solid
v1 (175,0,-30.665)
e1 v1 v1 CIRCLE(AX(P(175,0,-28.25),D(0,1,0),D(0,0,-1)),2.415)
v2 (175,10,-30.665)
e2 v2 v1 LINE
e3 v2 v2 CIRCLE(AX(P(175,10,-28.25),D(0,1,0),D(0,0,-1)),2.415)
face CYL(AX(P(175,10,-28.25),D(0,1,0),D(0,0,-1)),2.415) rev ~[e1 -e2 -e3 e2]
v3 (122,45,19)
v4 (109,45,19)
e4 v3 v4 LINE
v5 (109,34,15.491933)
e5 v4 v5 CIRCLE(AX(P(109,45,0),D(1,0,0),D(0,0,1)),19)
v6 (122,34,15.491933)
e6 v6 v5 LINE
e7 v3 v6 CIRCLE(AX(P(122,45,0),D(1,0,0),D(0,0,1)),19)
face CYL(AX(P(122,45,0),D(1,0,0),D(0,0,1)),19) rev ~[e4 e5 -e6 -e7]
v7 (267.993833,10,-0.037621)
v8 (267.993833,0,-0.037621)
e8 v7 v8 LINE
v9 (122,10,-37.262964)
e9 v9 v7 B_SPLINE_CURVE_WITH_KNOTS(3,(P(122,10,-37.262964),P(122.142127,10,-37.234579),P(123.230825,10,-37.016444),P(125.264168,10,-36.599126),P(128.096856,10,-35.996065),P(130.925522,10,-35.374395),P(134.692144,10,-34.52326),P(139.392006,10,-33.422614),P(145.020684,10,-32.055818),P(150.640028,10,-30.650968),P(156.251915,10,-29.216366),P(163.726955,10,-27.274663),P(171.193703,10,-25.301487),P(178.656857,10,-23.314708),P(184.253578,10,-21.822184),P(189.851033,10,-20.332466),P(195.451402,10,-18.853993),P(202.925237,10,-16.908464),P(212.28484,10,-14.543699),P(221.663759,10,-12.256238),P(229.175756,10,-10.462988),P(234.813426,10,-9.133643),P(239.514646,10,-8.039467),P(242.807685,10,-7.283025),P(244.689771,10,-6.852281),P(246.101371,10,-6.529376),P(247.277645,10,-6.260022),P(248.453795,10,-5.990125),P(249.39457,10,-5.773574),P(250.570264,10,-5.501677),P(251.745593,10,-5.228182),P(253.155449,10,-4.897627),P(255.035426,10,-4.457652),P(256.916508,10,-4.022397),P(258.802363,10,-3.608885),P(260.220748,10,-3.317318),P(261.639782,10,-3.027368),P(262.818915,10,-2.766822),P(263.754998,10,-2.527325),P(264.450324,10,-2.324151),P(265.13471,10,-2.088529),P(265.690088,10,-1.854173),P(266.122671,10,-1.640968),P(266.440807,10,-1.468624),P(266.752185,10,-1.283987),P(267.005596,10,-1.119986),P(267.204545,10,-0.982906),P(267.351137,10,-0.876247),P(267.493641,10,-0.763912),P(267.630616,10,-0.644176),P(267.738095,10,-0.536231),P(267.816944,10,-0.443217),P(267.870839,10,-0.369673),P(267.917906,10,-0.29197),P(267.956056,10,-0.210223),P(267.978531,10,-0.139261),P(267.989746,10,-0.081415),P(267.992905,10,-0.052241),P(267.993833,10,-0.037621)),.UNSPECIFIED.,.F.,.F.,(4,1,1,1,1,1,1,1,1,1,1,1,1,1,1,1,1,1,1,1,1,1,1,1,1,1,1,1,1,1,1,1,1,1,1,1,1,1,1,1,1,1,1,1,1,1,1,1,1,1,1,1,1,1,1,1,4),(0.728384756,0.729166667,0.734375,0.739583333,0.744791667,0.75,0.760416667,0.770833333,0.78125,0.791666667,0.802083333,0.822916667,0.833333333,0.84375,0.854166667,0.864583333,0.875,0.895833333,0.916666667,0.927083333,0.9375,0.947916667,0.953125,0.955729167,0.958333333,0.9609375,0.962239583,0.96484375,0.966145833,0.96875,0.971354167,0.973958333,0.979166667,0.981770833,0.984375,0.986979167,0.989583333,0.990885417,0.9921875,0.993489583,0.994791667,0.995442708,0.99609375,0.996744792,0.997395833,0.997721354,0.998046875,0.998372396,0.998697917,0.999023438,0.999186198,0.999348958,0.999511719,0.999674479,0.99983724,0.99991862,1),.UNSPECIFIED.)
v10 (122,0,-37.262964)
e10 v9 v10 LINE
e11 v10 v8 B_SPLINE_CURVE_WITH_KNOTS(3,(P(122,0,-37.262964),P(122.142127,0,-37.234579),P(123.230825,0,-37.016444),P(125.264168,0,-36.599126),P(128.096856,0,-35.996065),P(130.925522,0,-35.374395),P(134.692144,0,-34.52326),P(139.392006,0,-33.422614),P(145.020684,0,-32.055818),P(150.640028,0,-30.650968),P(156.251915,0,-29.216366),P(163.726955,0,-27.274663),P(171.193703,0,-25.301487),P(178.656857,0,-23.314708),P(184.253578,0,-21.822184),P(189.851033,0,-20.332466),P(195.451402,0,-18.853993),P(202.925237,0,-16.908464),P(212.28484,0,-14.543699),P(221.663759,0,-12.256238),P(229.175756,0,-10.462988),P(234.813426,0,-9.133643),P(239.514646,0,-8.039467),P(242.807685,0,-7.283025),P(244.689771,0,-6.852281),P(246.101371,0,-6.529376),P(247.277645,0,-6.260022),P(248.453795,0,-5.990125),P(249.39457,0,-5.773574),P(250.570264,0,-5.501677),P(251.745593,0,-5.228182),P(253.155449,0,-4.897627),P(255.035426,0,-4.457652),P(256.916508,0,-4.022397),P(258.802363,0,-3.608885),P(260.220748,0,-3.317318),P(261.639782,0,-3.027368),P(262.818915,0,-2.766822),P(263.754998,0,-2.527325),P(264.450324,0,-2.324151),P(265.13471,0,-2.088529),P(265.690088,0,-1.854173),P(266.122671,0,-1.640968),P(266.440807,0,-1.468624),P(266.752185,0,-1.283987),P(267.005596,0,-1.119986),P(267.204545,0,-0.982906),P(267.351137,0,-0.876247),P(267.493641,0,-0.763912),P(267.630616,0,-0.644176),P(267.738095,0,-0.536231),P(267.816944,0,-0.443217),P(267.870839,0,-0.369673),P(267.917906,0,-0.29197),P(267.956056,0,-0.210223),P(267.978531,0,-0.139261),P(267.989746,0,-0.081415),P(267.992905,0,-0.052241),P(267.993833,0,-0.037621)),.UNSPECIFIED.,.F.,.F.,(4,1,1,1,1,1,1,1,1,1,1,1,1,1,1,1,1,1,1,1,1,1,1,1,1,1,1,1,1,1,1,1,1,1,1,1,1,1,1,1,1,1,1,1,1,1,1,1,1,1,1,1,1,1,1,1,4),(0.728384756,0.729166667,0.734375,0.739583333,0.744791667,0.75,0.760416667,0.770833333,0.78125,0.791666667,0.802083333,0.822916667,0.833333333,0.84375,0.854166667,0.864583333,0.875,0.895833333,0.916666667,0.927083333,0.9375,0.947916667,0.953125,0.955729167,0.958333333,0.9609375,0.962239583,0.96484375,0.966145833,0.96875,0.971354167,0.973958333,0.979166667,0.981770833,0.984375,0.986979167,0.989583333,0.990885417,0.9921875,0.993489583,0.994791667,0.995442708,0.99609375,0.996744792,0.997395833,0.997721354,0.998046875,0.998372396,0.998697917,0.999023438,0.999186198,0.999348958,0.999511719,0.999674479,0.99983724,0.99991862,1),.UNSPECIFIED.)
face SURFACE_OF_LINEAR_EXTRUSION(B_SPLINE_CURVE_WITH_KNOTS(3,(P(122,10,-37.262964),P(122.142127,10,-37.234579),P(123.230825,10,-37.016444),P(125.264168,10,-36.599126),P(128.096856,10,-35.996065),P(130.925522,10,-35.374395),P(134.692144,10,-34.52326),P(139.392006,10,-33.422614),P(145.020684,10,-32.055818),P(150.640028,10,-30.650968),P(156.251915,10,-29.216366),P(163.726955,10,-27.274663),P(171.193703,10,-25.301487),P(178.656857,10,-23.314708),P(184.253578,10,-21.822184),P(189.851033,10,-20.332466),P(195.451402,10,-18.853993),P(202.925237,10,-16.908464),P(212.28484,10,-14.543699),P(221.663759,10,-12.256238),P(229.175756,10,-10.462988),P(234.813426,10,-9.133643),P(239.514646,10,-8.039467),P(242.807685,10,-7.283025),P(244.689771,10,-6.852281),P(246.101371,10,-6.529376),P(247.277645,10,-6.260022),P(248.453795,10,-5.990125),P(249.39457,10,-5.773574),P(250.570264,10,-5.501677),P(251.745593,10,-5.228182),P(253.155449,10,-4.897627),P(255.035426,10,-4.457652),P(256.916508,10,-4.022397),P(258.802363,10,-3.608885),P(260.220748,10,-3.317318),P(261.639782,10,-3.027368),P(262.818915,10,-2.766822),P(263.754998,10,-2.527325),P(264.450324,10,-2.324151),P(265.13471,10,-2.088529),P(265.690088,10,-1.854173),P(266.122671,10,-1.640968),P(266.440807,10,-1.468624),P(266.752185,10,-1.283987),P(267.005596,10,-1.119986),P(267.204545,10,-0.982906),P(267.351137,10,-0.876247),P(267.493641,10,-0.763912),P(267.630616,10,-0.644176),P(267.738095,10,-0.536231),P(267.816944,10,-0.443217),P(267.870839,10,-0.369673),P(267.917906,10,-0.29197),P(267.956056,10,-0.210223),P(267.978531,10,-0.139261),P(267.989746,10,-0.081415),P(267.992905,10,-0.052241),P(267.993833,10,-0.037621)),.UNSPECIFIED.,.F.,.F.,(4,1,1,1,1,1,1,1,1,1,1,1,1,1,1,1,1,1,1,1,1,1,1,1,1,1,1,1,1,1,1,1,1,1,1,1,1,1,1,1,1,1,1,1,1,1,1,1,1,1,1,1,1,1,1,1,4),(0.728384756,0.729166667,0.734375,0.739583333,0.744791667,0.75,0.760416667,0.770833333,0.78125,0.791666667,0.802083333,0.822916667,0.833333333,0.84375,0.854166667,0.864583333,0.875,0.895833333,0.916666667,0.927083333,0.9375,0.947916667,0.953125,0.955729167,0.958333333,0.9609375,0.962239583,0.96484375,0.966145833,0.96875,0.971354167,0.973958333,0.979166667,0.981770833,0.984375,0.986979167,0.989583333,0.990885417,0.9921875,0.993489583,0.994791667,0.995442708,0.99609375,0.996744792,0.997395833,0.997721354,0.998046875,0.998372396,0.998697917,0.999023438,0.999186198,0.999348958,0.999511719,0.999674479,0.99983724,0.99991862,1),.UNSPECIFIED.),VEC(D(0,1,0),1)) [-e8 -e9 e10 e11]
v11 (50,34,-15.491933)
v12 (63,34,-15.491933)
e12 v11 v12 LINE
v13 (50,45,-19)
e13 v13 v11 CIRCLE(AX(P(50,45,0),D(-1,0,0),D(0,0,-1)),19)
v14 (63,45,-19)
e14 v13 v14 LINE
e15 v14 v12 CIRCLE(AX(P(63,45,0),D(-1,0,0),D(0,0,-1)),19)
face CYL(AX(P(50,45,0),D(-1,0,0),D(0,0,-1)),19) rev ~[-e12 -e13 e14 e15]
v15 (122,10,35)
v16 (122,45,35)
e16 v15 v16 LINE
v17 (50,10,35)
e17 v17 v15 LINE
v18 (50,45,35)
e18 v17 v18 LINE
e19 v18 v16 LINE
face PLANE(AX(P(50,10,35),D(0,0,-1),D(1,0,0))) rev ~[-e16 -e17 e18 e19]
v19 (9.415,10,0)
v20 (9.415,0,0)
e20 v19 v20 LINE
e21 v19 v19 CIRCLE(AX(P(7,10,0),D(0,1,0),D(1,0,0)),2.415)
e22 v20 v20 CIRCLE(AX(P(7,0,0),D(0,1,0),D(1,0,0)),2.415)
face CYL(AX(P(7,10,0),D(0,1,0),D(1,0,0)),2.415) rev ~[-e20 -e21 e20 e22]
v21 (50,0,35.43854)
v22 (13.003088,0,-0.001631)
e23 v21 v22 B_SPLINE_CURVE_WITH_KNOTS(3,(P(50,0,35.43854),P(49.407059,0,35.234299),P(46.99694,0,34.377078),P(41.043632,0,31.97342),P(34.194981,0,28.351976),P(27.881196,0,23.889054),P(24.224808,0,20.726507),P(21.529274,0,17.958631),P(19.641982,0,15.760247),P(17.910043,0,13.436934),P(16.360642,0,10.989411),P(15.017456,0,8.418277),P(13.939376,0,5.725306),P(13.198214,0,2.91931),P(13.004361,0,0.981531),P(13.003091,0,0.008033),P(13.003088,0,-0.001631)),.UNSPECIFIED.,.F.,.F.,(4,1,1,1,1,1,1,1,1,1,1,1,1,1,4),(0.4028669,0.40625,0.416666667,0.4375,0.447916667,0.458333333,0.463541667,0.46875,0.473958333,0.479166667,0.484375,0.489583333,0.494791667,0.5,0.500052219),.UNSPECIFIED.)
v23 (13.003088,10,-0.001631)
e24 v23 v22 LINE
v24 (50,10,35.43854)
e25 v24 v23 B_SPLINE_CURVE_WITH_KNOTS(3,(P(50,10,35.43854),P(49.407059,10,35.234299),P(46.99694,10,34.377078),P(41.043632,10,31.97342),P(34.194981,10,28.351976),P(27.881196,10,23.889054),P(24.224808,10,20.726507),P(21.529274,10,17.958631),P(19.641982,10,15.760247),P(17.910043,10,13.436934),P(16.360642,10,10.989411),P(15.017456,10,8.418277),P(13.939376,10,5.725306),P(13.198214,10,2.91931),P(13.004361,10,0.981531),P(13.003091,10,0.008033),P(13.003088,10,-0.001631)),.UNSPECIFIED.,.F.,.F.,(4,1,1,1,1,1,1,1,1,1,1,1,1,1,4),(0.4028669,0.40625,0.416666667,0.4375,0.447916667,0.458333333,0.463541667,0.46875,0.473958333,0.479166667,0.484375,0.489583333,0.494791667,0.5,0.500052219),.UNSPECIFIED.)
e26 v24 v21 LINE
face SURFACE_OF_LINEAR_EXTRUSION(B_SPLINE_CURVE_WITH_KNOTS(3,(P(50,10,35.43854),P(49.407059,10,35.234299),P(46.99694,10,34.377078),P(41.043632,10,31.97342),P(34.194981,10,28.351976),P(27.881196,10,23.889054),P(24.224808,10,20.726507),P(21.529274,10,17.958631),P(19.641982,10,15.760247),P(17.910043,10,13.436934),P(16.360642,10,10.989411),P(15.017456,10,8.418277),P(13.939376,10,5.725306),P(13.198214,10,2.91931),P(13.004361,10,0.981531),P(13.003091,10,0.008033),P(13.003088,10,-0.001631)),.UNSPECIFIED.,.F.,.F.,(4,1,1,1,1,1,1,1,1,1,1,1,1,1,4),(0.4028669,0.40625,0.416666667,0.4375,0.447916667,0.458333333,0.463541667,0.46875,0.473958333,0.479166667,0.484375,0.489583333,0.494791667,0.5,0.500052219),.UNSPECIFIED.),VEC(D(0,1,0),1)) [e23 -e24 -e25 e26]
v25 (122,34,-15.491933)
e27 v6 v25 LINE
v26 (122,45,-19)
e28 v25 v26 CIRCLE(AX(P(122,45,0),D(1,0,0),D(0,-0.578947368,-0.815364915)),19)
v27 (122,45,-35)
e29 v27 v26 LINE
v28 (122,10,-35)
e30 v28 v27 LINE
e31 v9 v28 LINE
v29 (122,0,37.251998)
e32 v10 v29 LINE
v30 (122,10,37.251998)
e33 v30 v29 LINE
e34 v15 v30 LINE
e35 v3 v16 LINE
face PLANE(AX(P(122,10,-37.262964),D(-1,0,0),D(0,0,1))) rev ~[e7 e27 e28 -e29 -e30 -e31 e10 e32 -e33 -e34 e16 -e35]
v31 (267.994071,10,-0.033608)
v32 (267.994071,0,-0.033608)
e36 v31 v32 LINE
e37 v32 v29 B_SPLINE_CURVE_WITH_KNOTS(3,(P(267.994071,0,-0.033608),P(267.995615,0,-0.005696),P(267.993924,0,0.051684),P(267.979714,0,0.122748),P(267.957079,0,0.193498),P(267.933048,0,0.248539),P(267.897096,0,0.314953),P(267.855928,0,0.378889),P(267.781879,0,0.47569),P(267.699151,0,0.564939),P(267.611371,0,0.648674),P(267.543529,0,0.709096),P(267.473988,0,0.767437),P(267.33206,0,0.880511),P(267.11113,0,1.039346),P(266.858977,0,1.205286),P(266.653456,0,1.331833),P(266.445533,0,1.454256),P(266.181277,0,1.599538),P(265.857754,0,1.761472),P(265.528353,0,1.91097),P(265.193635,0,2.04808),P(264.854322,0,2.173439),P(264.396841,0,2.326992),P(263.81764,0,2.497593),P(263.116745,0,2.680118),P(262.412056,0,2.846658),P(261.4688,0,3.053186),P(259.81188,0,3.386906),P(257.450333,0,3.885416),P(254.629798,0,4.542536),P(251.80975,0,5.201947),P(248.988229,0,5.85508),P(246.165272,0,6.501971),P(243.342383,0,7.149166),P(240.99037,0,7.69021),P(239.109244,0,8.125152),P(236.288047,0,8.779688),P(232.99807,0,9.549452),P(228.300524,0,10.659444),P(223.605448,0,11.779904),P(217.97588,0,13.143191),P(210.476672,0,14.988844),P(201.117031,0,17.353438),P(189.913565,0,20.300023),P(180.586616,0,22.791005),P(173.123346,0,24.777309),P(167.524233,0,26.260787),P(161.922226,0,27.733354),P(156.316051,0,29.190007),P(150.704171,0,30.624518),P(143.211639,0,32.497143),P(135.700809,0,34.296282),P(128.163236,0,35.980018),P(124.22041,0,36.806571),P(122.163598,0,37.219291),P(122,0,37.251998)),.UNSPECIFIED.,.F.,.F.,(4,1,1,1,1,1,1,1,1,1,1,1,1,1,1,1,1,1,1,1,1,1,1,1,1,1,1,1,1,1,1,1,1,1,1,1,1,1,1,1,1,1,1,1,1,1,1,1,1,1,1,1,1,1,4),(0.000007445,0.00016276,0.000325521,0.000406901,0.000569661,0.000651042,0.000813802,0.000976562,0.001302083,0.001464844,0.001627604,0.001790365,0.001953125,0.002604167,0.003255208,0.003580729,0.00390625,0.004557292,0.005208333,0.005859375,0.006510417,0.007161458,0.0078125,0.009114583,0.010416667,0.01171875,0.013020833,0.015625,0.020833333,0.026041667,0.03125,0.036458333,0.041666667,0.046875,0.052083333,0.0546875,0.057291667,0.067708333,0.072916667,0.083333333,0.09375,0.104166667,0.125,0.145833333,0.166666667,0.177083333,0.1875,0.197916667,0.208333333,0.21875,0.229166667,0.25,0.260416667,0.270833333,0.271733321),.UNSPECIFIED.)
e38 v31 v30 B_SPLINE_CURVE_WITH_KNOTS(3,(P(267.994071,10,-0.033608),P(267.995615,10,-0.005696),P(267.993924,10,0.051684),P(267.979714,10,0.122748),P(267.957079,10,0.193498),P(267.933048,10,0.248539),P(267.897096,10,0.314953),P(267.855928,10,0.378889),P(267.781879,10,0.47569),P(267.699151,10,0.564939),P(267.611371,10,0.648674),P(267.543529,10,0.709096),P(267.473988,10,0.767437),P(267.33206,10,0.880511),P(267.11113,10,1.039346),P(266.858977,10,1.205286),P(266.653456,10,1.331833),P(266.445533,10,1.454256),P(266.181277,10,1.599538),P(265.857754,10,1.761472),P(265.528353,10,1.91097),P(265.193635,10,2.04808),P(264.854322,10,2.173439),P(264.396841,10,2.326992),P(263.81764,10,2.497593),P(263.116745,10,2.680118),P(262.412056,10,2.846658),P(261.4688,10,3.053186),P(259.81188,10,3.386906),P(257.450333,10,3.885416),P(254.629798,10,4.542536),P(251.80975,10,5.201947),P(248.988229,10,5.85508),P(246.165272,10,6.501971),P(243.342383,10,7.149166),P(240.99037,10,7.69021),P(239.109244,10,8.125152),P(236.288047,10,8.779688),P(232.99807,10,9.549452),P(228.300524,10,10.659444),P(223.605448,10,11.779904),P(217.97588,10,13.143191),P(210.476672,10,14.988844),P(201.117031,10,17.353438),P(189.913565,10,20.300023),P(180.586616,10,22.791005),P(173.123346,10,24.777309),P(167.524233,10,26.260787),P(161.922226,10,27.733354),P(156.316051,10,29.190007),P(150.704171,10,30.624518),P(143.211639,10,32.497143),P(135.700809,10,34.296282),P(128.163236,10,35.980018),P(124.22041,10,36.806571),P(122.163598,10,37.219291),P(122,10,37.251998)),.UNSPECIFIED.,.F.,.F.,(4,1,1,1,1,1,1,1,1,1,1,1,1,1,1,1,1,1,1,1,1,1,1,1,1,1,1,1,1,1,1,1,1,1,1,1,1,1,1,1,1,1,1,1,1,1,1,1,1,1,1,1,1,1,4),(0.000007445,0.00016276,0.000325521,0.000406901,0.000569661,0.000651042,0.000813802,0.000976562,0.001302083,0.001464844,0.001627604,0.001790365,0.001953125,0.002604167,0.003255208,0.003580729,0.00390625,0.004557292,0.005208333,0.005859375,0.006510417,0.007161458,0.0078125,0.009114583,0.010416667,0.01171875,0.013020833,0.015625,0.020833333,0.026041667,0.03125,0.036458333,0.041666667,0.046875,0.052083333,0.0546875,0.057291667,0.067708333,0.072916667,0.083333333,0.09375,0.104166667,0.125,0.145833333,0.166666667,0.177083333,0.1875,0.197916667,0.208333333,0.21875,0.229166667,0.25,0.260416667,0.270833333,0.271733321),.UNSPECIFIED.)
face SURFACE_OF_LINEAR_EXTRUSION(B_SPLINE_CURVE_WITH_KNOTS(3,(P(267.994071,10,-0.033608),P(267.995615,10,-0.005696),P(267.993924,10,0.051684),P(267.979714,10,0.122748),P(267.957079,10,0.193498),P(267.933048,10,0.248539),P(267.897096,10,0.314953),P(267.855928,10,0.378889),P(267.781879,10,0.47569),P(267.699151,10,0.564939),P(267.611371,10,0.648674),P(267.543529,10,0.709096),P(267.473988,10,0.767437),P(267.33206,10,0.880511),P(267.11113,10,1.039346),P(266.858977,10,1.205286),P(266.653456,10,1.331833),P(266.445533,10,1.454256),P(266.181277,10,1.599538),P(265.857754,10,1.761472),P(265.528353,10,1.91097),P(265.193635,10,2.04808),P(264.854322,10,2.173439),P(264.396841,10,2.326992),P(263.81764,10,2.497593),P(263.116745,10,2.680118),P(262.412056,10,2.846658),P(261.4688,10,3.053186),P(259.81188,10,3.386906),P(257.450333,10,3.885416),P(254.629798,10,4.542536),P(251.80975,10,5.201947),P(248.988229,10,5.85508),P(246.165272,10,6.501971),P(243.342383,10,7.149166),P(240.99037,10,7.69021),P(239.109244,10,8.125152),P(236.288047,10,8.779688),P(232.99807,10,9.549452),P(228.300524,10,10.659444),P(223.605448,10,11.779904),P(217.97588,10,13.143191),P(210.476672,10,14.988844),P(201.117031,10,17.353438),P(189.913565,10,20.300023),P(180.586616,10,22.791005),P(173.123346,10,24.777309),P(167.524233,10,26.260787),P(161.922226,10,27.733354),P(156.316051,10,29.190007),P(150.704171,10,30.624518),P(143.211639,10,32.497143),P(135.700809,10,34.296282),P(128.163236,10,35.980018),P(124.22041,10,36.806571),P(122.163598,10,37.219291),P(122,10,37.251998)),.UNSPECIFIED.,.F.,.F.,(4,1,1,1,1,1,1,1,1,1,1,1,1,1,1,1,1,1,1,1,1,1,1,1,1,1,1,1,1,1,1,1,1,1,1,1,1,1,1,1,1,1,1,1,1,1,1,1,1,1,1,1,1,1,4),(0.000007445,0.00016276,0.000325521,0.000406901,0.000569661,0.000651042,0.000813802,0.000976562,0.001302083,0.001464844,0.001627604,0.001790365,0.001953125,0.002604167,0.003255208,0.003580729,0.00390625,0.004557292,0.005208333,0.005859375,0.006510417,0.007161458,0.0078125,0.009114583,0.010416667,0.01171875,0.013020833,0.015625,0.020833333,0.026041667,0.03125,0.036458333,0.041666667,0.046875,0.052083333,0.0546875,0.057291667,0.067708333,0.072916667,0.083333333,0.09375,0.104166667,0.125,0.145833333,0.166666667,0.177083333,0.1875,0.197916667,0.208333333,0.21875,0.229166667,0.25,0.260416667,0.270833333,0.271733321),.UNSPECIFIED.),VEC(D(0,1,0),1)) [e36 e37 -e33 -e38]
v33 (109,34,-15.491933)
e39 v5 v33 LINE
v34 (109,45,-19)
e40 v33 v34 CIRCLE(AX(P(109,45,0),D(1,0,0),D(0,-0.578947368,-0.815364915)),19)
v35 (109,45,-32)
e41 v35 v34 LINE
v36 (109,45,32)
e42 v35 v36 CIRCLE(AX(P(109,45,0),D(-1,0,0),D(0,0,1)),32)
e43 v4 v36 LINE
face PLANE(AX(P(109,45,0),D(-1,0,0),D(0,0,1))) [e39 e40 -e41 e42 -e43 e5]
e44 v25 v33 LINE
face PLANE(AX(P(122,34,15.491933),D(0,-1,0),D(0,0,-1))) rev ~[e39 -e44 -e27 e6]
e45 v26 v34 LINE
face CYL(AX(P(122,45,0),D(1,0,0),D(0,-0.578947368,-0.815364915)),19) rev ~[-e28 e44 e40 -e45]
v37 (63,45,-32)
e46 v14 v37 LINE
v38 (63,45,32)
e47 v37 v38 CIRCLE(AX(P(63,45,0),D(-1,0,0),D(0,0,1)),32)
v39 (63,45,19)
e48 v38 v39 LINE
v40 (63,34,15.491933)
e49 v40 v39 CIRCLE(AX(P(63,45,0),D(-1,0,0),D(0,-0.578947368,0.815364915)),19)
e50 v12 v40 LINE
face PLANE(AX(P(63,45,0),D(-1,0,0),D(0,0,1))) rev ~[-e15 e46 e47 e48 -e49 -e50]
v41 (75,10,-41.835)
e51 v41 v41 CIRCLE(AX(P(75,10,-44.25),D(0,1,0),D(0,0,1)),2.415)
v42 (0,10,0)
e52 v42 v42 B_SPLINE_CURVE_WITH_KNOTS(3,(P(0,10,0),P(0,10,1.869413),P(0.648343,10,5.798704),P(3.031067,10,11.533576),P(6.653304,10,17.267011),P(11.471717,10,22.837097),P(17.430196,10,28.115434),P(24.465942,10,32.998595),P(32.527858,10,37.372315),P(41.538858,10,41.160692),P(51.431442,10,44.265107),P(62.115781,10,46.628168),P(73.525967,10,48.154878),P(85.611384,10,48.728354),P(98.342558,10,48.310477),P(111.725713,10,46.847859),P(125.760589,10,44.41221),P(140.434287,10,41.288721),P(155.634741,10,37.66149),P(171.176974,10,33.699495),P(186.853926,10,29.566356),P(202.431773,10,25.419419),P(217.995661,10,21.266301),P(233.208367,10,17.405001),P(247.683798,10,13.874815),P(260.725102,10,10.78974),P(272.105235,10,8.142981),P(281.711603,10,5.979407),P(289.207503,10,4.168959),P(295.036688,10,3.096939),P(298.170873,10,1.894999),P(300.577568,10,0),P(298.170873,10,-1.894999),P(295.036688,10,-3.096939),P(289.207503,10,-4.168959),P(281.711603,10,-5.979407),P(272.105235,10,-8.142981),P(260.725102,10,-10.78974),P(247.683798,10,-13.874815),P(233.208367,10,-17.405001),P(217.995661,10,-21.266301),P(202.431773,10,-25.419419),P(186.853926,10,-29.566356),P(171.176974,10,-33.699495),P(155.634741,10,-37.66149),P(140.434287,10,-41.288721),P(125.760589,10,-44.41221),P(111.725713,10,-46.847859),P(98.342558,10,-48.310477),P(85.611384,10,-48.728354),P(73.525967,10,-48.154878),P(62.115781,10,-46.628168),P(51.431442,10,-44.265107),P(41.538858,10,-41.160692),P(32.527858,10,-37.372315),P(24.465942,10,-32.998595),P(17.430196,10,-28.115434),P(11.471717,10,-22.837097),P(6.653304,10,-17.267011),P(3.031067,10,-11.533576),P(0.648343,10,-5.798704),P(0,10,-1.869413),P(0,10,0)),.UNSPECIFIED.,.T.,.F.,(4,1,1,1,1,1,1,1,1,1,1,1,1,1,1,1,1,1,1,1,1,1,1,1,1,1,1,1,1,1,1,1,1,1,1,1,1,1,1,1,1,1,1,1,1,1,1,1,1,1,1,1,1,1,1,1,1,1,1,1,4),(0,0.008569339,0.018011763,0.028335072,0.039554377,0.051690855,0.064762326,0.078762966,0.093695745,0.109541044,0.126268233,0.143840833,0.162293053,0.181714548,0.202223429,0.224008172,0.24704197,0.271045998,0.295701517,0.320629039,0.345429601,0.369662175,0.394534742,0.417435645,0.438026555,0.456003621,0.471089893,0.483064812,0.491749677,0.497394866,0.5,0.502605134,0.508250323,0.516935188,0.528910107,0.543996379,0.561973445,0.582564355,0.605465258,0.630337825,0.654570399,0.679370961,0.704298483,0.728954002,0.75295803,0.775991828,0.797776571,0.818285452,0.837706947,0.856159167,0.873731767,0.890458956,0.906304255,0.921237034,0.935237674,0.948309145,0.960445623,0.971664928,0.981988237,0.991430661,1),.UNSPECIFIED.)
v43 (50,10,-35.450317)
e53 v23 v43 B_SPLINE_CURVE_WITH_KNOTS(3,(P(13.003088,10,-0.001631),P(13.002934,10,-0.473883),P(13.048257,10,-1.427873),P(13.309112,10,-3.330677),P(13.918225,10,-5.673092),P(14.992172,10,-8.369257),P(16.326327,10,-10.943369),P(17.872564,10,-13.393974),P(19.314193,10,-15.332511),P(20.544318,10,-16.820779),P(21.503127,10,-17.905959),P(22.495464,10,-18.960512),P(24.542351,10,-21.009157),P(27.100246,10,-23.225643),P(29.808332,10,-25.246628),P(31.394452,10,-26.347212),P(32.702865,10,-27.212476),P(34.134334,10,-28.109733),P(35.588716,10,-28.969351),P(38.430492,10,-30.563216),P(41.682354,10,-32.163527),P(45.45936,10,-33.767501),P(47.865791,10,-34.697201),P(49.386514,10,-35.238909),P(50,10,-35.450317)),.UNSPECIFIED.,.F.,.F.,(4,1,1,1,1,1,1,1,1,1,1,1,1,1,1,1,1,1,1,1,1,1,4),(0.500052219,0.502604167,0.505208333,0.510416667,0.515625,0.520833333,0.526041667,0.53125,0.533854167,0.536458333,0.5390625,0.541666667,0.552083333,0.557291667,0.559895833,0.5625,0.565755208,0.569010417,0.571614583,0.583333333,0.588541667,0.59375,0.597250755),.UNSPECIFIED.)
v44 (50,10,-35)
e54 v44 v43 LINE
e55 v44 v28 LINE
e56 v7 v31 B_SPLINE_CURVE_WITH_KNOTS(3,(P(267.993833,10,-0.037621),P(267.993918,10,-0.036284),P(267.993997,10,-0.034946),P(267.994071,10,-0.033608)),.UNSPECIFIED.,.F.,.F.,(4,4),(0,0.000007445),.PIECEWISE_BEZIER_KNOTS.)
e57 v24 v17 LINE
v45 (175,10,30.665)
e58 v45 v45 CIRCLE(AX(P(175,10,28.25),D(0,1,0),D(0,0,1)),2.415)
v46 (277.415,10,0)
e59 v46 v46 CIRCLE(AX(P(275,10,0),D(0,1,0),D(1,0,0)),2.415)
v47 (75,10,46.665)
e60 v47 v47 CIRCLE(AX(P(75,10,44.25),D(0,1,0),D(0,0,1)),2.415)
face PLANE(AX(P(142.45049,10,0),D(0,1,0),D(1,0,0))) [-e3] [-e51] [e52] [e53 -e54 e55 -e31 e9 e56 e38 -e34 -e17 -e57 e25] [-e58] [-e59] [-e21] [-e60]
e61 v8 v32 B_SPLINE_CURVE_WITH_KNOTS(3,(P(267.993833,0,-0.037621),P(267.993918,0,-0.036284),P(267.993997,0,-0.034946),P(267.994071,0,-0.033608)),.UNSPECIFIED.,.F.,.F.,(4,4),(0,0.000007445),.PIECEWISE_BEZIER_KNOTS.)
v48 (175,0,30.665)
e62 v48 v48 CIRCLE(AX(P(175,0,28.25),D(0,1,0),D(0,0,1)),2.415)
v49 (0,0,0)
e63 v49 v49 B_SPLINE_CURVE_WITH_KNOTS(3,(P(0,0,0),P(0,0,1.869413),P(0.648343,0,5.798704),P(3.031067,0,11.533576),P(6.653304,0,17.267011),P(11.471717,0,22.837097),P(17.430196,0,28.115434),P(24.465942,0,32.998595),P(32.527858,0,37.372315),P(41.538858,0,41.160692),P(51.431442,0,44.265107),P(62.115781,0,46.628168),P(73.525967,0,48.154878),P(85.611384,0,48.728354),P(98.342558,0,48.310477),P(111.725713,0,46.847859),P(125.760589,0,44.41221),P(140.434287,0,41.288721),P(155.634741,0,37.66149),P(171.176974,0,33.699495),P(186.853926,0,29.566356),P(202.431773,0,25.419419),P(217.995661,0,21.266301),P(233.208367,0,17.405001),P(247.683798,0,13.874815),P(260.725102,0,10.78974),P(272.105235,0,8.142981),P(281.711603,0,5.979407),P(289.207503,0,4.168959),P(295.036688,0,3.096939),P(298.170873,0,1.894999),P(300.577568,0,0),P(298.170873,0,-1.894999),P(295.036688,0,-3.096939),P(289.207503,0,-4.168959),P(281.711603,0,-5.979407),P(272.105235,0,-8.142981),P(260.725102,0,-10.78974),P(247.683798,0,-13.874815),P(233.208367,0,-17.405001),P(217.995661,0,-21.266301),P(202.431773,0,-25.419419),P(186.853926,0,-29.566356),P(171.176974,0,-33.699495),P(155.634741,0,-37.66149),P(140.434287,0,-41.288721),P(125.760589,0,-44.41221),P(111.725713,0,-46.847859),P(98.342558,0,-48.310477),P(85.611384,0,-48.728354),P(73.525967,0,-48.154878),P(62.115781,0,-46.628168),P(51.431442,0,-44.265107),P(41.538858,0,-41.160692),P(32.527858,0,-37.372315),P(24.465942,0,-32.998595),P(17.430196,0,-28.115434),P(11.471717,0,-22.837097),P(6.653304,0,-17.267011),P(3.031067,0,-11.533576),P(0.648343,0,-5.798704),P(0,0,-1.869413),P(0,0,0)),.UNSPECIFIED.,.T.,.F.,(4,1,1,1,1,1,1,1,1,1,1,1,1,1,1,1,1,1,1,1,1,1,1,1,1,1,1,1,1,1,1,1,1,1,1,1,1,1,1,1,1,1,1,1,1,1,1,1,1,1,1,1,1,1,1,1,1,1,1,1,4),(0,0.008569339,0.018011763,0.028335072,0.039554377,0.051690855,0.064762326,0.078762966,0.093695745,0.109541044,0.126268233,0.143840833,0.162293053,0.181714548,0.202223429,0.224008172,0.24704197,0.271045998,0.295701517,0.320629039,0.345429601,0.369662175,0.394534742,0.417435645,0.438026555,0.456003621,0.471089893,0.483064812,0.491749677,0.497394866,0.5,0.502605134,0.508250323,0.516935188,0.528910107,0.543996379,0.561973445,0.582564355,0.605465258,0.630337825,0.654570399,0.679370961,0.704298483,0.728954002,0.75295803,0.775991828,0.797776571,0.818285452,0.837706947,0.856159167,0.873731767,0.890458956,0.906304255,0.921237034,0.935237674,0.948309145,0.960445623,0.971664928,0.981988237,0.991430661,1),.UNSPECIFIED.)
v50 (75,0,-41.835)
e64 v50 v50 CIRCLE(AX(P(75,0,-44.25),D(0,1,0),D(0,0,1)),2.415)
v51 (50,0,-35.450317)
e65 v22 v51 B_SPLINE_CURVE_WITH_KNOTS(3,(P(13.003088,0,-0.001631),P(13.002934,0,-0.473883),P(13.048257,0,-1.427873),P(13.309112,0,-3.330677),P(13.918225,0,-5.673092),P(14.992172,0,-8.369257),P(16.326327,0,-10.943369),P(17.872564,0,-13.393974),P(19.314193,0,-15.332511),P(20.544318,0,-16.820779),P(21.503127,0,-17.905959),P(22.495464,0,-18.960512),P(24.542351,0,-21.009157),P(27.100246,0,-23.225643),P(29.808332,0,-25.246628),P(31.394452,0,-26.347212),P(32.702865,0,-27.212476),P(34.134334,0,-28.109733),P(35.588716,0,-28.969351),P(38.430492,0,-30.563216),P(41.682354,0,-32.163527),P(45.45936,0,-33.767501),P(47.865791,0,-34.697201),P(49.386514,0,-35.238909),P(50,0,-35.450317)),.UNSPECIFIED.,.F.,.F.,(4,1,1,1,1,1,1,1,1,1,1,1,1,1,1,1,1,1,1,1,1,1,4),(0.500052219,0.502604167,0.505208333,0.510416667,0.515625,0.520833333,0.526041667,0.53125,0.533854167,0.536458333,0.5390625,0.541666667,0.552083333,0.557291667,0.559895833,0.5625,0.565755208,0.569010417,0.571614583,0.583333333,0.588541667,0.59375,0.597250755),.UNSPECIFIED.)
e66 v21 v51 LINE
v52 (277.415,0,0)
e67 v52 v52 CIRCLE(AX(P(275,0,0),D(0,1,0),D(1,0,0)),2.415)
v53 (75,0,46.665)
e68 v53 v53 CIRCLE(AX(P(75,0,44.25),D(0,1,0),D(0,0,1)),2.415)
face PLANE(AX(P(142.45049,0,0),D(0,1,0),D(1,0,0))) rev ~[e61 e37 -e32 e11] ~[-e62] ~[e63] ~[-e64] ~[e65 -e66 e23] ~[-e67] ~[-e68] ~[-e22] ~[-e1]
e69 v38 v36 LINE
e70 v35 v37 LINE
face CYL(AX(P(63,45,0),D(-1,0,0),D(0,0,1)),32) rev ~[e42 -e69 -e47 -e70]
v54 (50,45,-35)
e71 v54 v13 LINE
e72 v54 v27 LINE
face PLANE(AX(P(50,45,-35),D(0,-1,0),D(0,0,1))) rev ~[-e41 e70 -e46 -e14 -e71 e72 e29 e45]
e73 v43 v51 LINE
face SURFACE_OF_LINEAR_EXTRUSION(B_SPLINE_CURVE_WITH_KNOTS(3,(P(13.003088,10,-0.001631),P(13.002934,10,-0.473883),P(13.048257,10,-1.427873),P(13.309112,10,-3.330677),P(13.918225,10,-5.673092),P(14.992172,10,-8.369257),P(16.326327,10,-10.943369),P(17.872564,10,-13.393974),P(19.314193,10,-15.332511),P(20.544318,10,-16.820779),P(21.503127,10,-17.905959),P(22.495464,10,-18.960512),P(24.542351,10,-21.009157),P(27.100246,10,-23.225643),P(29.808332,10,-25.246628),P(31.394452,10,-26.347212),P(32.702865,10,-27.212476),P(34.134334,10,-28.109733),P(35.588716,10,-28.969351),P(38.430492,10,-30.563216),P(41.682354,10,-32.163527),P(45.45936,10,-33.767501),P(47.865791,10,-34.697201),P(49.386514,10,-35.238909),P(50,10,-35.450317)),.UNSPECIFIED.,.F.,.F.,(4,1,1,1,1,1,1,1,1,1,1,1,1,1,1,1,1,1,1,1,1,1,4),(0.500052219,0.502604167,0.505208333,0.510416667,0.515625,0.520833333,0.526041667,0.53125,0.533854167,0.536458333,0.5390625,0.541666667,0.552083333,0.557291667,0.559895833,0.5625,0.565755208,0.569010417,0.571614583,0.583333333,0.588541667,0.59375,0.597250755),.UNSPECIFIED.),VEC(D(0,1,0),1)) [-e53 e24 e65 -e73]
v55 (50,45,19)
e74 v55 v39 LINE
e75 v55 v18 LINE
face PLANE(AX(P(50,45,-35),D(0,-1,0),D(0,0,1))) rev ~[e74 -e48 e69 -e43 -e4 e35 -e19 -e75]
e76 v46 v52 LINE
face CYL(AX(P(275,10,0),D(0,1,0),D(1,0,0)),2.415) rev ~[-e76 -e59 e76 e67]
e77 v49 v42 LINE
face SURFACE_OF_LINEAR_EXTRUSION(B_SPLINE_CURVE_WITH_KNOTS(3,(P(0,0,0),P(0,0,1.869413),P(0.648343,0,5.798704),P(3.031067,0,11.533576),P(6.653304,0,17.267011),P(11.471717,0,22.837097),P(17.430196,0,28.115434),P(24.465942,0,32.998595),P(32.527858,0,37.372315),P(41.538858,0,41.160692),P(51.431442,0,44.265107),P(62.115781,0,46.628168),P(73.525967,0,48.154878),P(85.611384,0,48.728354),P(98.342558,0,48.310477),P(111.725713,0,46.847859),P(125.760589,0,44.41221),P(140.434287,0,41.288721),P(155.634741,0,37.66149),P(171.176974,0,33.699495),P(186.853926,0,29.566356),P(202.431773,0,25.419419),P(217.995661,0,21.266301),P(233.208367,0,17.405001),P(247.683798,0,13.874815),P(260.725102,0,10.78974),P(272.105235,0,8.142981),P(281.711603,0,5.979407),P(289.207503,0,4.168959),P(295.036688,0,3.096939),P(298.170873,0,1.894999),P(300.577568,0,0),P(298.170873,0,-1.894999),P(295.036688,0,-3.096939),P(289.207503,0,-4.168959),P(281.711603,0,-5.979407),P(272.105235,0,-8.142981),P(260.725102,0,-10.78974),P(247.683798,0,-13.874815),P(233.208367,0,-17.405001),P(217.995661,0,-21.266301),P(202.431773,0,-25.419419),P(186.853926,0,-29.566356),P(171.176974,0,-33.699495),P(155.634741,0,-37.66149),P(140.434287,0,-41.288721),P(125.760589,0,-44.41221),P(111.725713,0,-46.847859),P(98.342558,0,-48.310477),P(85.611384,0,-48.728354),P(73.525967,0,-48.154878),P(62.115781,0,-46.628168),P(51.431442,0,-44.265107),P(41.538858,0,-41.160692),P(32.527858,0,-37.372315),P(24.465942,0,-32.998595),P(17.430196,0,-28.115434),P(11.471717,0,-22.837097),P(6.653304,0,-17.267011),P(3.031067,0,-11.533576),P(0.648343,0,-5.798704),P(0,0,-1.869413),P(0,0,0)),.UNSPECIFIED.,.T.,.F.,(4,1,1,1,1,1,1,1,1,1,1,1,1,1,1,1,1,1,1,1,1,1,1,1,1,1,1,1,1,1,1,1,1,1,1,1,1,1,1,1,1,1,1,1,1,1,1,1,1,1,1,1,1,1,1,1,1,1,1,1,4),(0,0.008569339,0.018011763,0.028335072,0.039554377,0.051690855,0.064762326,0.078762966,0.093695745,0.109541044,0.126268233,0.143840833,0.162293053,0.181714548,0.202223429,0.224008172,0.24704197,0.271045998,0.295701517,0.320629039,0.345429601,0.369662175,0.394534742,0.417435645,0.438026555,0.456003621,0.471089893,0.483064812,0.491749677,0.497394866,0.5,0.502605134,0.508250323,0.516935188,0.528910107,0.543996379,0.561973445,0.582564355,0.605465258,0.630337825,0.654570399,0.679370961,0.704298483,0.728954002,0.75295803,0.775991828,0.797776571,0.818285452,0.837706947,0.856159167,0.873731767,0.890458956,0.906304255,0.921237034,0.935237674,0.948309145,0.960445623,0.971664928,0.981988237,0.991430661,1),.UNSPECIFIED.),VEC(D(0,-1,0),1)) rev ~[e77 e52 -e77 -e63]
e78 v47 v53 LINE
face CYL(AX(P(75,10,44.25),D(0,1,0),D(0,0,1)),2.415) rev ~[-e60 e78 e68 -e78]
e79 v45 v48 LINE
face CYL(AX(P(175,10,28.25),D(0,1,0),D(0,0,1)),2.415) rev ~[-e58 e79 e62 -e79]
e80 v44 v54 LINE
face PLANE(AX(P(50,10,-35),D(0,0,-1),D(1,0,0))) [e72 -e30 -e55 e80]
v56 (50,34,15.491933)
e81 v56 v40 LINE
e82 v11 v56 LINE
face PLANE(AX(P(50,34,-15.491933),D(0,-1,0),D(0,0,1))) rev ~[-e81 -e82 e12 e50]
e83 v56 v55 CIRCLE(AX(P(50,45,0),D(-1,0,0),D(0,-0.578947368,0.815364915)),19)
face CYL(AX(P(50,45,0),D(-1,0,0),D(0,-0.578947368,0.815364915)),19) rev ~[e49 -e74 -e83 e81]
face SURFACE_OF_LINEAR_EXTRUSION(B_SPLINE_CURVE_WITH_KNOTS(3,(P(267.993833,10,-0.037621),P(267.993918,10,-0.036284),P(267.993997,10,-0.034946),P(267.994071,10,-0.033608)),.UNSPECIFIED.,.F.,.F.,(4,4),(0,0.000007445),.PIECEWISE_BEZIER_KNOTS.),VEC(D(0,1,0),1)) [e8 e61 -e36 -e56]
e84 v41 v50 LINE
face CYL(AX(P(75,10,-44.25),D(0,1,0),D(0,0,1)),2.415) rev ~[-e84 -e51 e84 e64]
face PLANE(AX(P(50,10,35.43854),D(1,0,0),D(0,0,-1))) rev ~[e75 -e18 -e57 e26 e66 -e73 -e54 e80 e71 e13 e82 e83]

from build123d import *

# Parameters (mm, degrees)
BOSS_EXTRUDE1_DEPTH = 10
SKETCH5_W           = 72
SKETCH5_H           = 70
BOSS_EXTRUDE2_DEPTH = 70
SKETCH6_W           = 70
SKETCH6_H           = 35
CUT_EXTRUDE3_DEPTH  = 72
CUT_EXTRUDE4_DEPTH  = 13
SKETCH8_R           = 32
CUT_EXTRUDE5_DEPTH  = 46
CUT_EXTRUDE6_DEPTH  = 13
CUT_EXTRUDE7_DEPTH  = 10
SKETCH12_R          = 2.415
CUT_EXTRUDE8_DEPTH  = 10


with BuildPart() as part:
    # Sketch3 → Boss-Extrude1 (new body)
    with BuildSketch(Plane(origin=(0, 0, 0), x_dir=(1, 0, 0), z_dir=(0, 1, 0))):
        with BuildLine():
            add(Edge.make_bspline(
                [(0, 0), (0, -1.869412992), (0.64834316, -5.798703671), (3.031066686, -11.533576223), (6.653304031, -17.267010725), (11.471716912, -22.837096521), (17.430196145, -28.115434217), (24.465941762, -32.99859482), (32.527857891, -37.372315002), (41.538857724, -41.160691823), (51.431441971, -44.265106616), (62.11578082, -46.628168346), (73.525967425, -48.154878004), (85.611384032, -48.728354206), (98.342557923, -48.310477324), (111.725712529, -46.847858839), (125.760588908, -44.412209991), (140.434286751, -41.288720883), (155.634740935, -37.661490146), (171.176973505, -33.699494803), (186.853926113, -29.566356331), (202.431772576, -25.419418935), (217.9956614, -21.266300687), (233.208366579, -17.405000658), (247.68379827, -13.874815175), (260.725101784, -10.789740345), (272.105235179, -8.142980553), (281.711602995, -5.979406788), (289.207502575, -4.168959476), (295.036688315, -3.096938852), (298.170873437, -1.894998614), (300.577567682, 0), (298.170873437, 1.894998614), (295.036688315, 3.096938852), (289.207502575, 4.168959476), (281.711602995, 5.979406788), (272.105235179, 8.142980553), (260.725101784, 10.789740345), (247.68379827, 13.874815175), (233.208366579, 17.405000658), (217.9956614, 21.266300687), (202.431772576, 25.419418935), (186.853926113, 29.566356331), (171.176973505, 33.699494803), (155.634740935, 37.661490146), (140.434286751, 41.288720883), (125.760588908, 44.412209991), (111.725712529, 46.847858839), (98.342557923, 48.310477324), (85.611384032, 48.728354206), (73.525967425, 48.154878004), (62.11578082, 46.628168346), (51.431441971, 44.265106616), (41.538857724, 41.160691823), (32.527857891, 37.372315002), (24.465941762, 32.99859482), (17.430196145, 28.115434217), (11.471716912, 22.837096521), (6.653304031, 17.267010725), (3.031066686, 11.533576223), (0.64834316, 5.798703671), (0, 1.869412992), (0, 0)],
                knots=[0, 0, 0, 0, 0.008569339, 0.018011763, 0.028335072, 0.039554377, 0.051690855, 0.064762326, 0.078762966, 0.093695745, 0.109541044, 0.126268233, 0.143840833, 0.162293053, 0.181714548, 0.202223429, 0.224008172, 0.24704197, 0.271045998, 0.295701517, 0.320629039, 0.345429601, 0.369662175, 0.394534742, 0.417435645, 0.438026555, 0.456003621, 0.471089893, 0.483064812, 0.491749677, 0.497394866, 0.5, 0.502605134, 0.508250323, 0.516935188, 0.528910107, 0.543996379, 0.561973445, 0.582564355, 0.605465258, 0.630337825, 0.654570399, 0.679370961, 0.704298483, 0.728954002, 0.75295803, 0.775991828, 0.797776571, 0.818285452, 0.837706947, 0.856159167, 0.873731767, 0.890458956, 0.906304255, 0.921237034, 0.935237674, 0.948309145, 0.960445623, 0.971664928, 0.981988237, 0.991430661, 1, 1, 1, 1], degree=3))
        make_face()
    extrude(amount=BOSS_EXTRUDE1_DEPTH)

    # Sketch5 → Boss-Extrude2 (add)
    with BuildSketch(Plane(origin=(0, 10, 0), x_dir=(1, 0, 0), z_dir=(0, 1, 0))):
        with Locations((86, 0)):
            Rectangle(SKETCH5_W, SKETCH5_H)
    extrude(amount=BOSS_EXTRUDE2_DEPTH)

    # Sketch6 → Cut-Extrude3 (cut)
    with BuildSketch(Plane.ZY.offset(-50)):
        with Locations((0, 62.5)):
            Rectangle(SKETCH6_W, SKETCH6_H)
    extrude(amount=-CUT_EXTRUDE3_DEPTH, mode=Mode.SUBTRACT)

    # Sketch7 → Cut-Extrude4 (cut)
    with BuildSketch(Plane.ZY.offset(-50)):
        with BuildLine():
            Line((19, 45), (-19, 45))
            ThreePointArc((-19, 45), (-18.101750389, 39.227077617), (-15.491933385, 34))
            Line((-15.491933385, 34), (15.491933385, 34))
            ThreePointArc((15.491933385, 34), (18.101750389, 39.227077617), (19, 45))
        make_face()
    extrude(amount=-CUT_EXTRUDE4_DEPTH, mode=Mode.SUBTRACT)

    # Sketch8 → Cut-Extrude5 (cut)
    with BuildSketch(Plane.ZY.offset(-63)):
        with Locations((0, 45)):
            Circle(SKETCH8_R)
        with BuildLine():
            ThreePointArc((-19, 45), (-18.101750389, 50.772922383), (-15.491933385, 56))
            ThreePointArc((-15.491933385, 56), (0, 64), (15.491933385, 56))
            ThreePointArc((15.491933385, 56), (18.101750389, 50.772922383), (19, 45))
            ThreePointArc((19, 45), (18.101750389, 39.227077617), (15.491933385, 34))
            ThreePointArc((15.491933385, 34), (0, 26), (-15.491933385, 34))
            ThreePointArc((-15.491933385, 34), (-18.101750389, 39.227077617), (-19, 45))
        make_face(mode=Mode.SUBTRACT)
        with BuildLine():
            Line((15.491933385, 34), (-15.491933385, 34))
            ThreePointArc((-15.491933385, 34), (0, 26), (15.491933385, 34))
        make_face()
        with BuildLine():
            ThreePointArc((15.491933385, 34), (18.101750389, 39.227077617), (19, 45))
            Line((19, 45), (-19, 45))
            ThreePointArc((-19, 45), (-18.101750389, 39.227077617), (-15.491933385, 34))
            Line((-15.491933385, 34), (15.491933385, 34))
        make_face()
    extrude(amount=-CUT_EXTRUDE5_DEPTH, mode=Mode.SUBTRACT)

    # Sketch9 → Cut-Extrude6 (cut)
    with BuildSketch(Plane(origin=(122, 0, 0), x_dir=(0, 0, -1), z_dir=(1, 0, 0))):
        with BuildLine():
            Line((19, 45), (-19, 45))
            ThreePointArc((-19, 45), (-18.101750389, 39.227077617), (-15.491933385, 34))
            Line((-15.491933385, 34), (15.491933385, 34))
            ThreePointArc((15.491933385, 34), (18.101750389, 39.227077617), (19, 45))
        make_face()
    extrude(amount=-CUT_EXTRUDE6_DEPTH, mode=Mode.SUBTRACT)

    # Sketch10 → Cut-Extrude7 (cut)
    with BuildSketch(Plane(origin=(0, 10, 0), x_dir=(1, 0, 0), z_dir=(0, 1, 0))):
        with BuildLine():
            add(Edge.make_bspline(
                [(13.003087531, 0.00163068), (13.002933691, 0.47388298), (13.048257087, 1.427873487), (13.309111737, 3.33067748), (13.918224589, 5.67309173), (14.992172175, 8.369256975), (16.326326829, 10.943368887), (17.872563793, 13.393973735), (19.314193218, 15.332511218), (20.544318237, 16.820779182), (21.503126621, 17.905958878), (22.495464047, 18.960511652), (24.542350952, 21.009156574), (27.100246156, 23.225642621), (29.808332178, 25.246628335), (31.394451529, 26.347212068), (32.702865335, 27.212476373), (34.134334035, 28.109733404), (35.588715642, 28.969350744), (38.430491761, 30.563215926), (41.682353844, 32.163526711), (45.459360276, 33.767501218), (47.865790798, 34.697201438), (49.386513599, 35.238908761), (50, 35.450317413)],
                knots=[0.500052219, 0.500052219, 0.500052219, 0.500052219, 0.502604167, 0.505208333, 0.510416667, 0.515625, 0.520833333, 0.526041667, 0.53125, 0.533854167, 0.536458333, 0.5390625, 0.541666667, 0.552083333, 0.557291667, 0.559895833, 0.5625, 0.565755208, 0.569010417, 0.571614583, 0.583333333, 0.588541667, 0.59375, 0.597250755, 0.597250755, 0.597250755, 0.597250755], degree=3))
            Line((13.003087531, 0.00163068), (50, 0.006270358))
            Line((50, 0.006270358), (50, 35))
            Line((50, 35), (50, 35.450317413))
        make_face()
        with BuildLine():
            Line((50, 0.006270358), (13.003087531, 0.00163068))
            add(Edge.make_bspline(
                [(50, -35.438539687), (49.40705891, -35.234298657), (46.996940222, -34.377078037), (41.043632418, -31.973419887), (34.194980814, -28.351975623), (27.8811963, -23.889054172), (24.224808239, -20.726507209), (21.529273815, -17.958631384), (19.641981845, -15.760246719), (17.910042926, -13.436933958), (16.360641575, -10.9894108), (15.01745604, -8.41827748), (13.939375502, -5.725306126), (13.198214011, -2.919310352), (13.004360505, -0.98153134), (13.003090679, -0.008032749), (13.003087531, 0.00163068)],
                knots=[0.4028669, 0.4028669, 0.4028669, 0.4028669, 0.40625, 0.416666667, 0.4375, 0.447916667, 0.458333333, 0.463541667, 0.46875, 0.473958333, 0.479166667, 0.484375, 0.489583333, 0.494791667, 0.5, 0.500052219, 0.500052219, 0.500052219, 0.500052219], degree=3))
            Line((50, -35.438539687), (50, -35))
            Line((50, -35), (50, 0.006270358))
        make_face()
        with BuildLine():
            Line((122, 0.015299673), (267.994071473, 0.033608374))
            add(Edge.make_bspline(
                [(267.993833139, 0.037621373), (267.993918034, 0.036283971), (267.993997476, 0.034946294), (267.994071473, 0.033608374)],
                knots=[0, 0, 0, 0, 7.445e-06, 7.445e-06, 7.445e-06, 7.445e-06], degree=3))
            add(Edge.make_bspline(
                [(122, 37.262963938), (122.142126515, 37.234578919), (123.230824923, 37.016443861), (125.264168319, 36.599126479), (128.096856433, 35.996065376), (130.925522422, 35.374395038), (134.69214394, 34.523259728), (139.392006006, 33.422613932), (145.020684108, 32.055817947), (150.640028107, 30.650967772), (156.251915239, 29.216366196), (163.726954902, 27.274663119), (171.193702741, 25.301487395), (178.656857036, 23.314707609), (184.253578098, 21.822183729), (189.851033352, 20.332466039), (195.451402138, 18.853992765), (202.925237399, 16.908463564), (212.284839749, 14.543698901), (221.663759249, 12.256238488), (229.175755944, 10.462988451), (234.813425651, 9.133642994), (239.514645654, 8.039466576), (242.807685477, 7.283025162), (244.689770792, 6.852281263), (246.101371173, 6.529376455), (247.27764471, 6.260022363), (248.453794529, 5.990125018), (249.394570134, 5.773574431), (250.570263659, 5.501676646), (251.745592557, 5.228182496), (253.155448859, 4.897627385), (255.035425982, 4.457652319), (256.916508065, 4.022396946), (258.802362573, 3.608884851), (260.220747919, 3.31731839), (261.63978248, 3.027368212), (262.818915453, 2.766822198), (263.754998196, 2.52732477), (264.450323904, 2.324150898), (265.134709774, 2.088529125), (265.690088473, 1.854173073), (266.122670871, 1.640967584), (266.440807248, 1.468623963), (266.752184556, 1.283987144), (267.005595707, 1.11998632), (267.204544503, 0.98290554), (267.351136846, 0.876246792), (267.493641346, 0.763912187), (267.630615986, 0.644176027), (267.738094756, 0.536231383), (267.816944045, 0.443217292), (267.870839255, 0.369673202), (267.91790645, 0.291969637), (267.956056183, 0.210223025), (267.978531458, 0.139261053), (267.989745862, 0.0814145), (267.992905119, 0.052241032), (267.993833139, 0.037621373)],
                knots=[0.728384756, 0.728384756, 0.728384756, 0.728384756, 0.729166667, 0.734375, 0.739583333, 0.744791667, 0.75, 0.760416667, 0.770833333, 0.78125, 0.791666667, 0.802083333, 0.822916667, 0.833333333, 0.84375, 0.854166667, 0.864583333, 0.875, 0.895833333, 0.916666667, 0.927083333, 0.9375, 0.947916667, 0.953125, 0.955729167, 0.958333333, 0.9609375, 0.962239583, 0.96484375, 0.966145833, 0.96875, 0.971354167, 0.973958333, 0.979166667, 0.981770833, 0.984375, 0.986979167, 0.989583333, 0.990885417, 0.9921875, 0.993489583, 0.994791667, 0.995442708, 0.99609375, 0.996744792, 0.997395833, 0.997721354, 0.998046875, 0.998372396, 0.998697917, 0.999023438, 0.999186198, 0.999348958, 0.999511719, 0.999674479, 0.99983724, 0.99991862, 1, 1, 1, 1], degree=3))
            Line((122, 37.262963938), (122, 35))
            Line((122, 35), (122, 0.015299673))
        make_face()
        with BuildLine():
            add(Edge.make_bspline(
                [(267.994071473, 0.033608374), (267.995615261, 0.005695637), (267.993923562, -0.051684397), (267.979713902, -0.122748012), (267.957078698, -0.193497655), (267.933048449, -0.248539132), (267.897095853, -0.314953343), (267.855927684, -0.37888929), (267.781879387, -0.475690427), (267.699151251, -0.564939071), (267.611371274, -0.648673548), (267.543528936, -0.70909602), (267.473988334, -0.767436788), (267.332060375, -0.880510846), (267.111129501, -1.039345791), (266.858976714, -1.205285519), (266.653456424, -1.33183303), (266.445533284, -1.454255566), (266.181276983, -1.599537598), (265.857754303, -1.761472436), (265.528353324, -1.910970071), (265.193634718, -2.048080378), (264.854322018, -2.173438895), (264.396841465, -2.326992231), (263.817639672, -2.497593186), (263.116745368, -2.680117783), (262.412055865, -2.84665763), (261.468800091, -3.05318611), (259.811880305, -3.386905797), (257.450333413, -3.885416334), (254.629797965, -4.542536412), (251.809749811, -5.20194666), (248.988228949, -5.855079535), (246.16527231, -6.501971114), (243.342382791, -7.149165703), (240.9903698, -7.690210325), (239.109244389, -8.125152053), (236.288046629, -8.779688294), (232.998070199, -9.549451745), (228.300524368, -10.659444435), (223.605448465, -11.779904243), (217.975879503, -13.143191021), (210.476672328, -14.98884442), (201.117030713, -17.35343775), (189.913564789, -20.300023218), (180.586615551, -22.79100541), (173.123346339, -24.777309168), (167.524232992, -26.260787258), (161.922226004, -27.733354096), (156.316051071, -29.190006841), (150.704170792, -30.624518154), (143.21163935, -32.497143299), (135.700808797, -34.296282397), (128.163235773, -35.980017798), (124.220409535, -36.806571369), (122.163597597, -37.219290587), (122, -37.251998228)],
                knots=[7.445e-06, 7.445e-06, 7.445e-06, 7.445e-06, 0.00016276, 0.000325521, 0.000406901, 0.000569661, 0.000651042, 0.000813802, 0.000976562, 0.001302083, 0.001464844, 0.001627604, 0.001790365, 0.001953125, 0.002604167, 0.003255208, 0.003580729, 0.00390625, 0.004557292, 0.005208333, 0.005859375, 0.006510417, 0.007161458, 0.0078125, 0.009114583, 0.010416667, 0.01171875, 0.013020833, 0.015625, 0.020833333, 0.026041667, 0.03125, 0.036458333, 0.041666667, 0.046875, 0.052083333, 0.0546875, 0.057291667, 0.067708333, 0.072916667, 0.083333333, 0.09375, 0.104166667, 0.125, 0.145833333, 0.166666667, 0.177083333, 0.1875, 0.197916667, 0.208333333, 0.21875, 0.229166667, 0.25, 0.260416667, 0.270833333, 0.271733321, 0.271733321, 0.271733321, 0.271733321], degree=3))
            Line((267.994071473, 0.033608374), (122, 0.015299673))
            Line((122, 0.015299673), (122, -35))
            Line((122, -35), (122, -37.251998228))
        make_face()
    extrude(amount=-CUT_EXTRUDE7_DEPTH, mode=Mode.SUBTRACT)

    # Sketch12 → Cut-Extrude8 (cut)
    with BuildSketch(Plane(origin=(0, 10, 0), x_dir=(1, 0, 0), z_dir=(0, 1, 0))):
        with BuildLine():
            ThreePointArc((272.585, 0), (275, -2.415), (277.415, 0))
            Line((277.415, 0), (272.585, 0))
        make_face()
        with BuildLine():
            Line((272.585, 0), (277.415, 0))
            ThreePointArc((277.415, 0), (275, 2.415), (272.585, 0))
        make_face()
        with Locations(Location((75, 44.25, 0), (0, 0, 270))):
            Circle(SKETCH12_R)
        with BuildLine():
            ThreePointArc((4.585, 0), (7, -2.415), (9.415, 0))
            Line((9.415, 0), (4.585, 0))
        make_face()
        with BuildLine():
            Line((4.585, 0), (9.415, 0))
            ThreePointArc((9.415, 0), (7, 2.415), (4.585, 0))
        make_face()
        with Locations(Location((75, -44.25, 0), (0, 0, 270))):
            Circle(SKETCH12_R)
        with Locations(Location((175, -28.25, 0), (0, 0, 270))):
            Circle(SKETCH12_R)
        with Locations(Location((175, 28.25, 0), (0, 0, 90))):
            Circle(SKETCH12_R)
    extrude(amount=-CUT_EXTRUDE8_DEPTH, mode=Mode.SUBTRACT)


solid = part.part
